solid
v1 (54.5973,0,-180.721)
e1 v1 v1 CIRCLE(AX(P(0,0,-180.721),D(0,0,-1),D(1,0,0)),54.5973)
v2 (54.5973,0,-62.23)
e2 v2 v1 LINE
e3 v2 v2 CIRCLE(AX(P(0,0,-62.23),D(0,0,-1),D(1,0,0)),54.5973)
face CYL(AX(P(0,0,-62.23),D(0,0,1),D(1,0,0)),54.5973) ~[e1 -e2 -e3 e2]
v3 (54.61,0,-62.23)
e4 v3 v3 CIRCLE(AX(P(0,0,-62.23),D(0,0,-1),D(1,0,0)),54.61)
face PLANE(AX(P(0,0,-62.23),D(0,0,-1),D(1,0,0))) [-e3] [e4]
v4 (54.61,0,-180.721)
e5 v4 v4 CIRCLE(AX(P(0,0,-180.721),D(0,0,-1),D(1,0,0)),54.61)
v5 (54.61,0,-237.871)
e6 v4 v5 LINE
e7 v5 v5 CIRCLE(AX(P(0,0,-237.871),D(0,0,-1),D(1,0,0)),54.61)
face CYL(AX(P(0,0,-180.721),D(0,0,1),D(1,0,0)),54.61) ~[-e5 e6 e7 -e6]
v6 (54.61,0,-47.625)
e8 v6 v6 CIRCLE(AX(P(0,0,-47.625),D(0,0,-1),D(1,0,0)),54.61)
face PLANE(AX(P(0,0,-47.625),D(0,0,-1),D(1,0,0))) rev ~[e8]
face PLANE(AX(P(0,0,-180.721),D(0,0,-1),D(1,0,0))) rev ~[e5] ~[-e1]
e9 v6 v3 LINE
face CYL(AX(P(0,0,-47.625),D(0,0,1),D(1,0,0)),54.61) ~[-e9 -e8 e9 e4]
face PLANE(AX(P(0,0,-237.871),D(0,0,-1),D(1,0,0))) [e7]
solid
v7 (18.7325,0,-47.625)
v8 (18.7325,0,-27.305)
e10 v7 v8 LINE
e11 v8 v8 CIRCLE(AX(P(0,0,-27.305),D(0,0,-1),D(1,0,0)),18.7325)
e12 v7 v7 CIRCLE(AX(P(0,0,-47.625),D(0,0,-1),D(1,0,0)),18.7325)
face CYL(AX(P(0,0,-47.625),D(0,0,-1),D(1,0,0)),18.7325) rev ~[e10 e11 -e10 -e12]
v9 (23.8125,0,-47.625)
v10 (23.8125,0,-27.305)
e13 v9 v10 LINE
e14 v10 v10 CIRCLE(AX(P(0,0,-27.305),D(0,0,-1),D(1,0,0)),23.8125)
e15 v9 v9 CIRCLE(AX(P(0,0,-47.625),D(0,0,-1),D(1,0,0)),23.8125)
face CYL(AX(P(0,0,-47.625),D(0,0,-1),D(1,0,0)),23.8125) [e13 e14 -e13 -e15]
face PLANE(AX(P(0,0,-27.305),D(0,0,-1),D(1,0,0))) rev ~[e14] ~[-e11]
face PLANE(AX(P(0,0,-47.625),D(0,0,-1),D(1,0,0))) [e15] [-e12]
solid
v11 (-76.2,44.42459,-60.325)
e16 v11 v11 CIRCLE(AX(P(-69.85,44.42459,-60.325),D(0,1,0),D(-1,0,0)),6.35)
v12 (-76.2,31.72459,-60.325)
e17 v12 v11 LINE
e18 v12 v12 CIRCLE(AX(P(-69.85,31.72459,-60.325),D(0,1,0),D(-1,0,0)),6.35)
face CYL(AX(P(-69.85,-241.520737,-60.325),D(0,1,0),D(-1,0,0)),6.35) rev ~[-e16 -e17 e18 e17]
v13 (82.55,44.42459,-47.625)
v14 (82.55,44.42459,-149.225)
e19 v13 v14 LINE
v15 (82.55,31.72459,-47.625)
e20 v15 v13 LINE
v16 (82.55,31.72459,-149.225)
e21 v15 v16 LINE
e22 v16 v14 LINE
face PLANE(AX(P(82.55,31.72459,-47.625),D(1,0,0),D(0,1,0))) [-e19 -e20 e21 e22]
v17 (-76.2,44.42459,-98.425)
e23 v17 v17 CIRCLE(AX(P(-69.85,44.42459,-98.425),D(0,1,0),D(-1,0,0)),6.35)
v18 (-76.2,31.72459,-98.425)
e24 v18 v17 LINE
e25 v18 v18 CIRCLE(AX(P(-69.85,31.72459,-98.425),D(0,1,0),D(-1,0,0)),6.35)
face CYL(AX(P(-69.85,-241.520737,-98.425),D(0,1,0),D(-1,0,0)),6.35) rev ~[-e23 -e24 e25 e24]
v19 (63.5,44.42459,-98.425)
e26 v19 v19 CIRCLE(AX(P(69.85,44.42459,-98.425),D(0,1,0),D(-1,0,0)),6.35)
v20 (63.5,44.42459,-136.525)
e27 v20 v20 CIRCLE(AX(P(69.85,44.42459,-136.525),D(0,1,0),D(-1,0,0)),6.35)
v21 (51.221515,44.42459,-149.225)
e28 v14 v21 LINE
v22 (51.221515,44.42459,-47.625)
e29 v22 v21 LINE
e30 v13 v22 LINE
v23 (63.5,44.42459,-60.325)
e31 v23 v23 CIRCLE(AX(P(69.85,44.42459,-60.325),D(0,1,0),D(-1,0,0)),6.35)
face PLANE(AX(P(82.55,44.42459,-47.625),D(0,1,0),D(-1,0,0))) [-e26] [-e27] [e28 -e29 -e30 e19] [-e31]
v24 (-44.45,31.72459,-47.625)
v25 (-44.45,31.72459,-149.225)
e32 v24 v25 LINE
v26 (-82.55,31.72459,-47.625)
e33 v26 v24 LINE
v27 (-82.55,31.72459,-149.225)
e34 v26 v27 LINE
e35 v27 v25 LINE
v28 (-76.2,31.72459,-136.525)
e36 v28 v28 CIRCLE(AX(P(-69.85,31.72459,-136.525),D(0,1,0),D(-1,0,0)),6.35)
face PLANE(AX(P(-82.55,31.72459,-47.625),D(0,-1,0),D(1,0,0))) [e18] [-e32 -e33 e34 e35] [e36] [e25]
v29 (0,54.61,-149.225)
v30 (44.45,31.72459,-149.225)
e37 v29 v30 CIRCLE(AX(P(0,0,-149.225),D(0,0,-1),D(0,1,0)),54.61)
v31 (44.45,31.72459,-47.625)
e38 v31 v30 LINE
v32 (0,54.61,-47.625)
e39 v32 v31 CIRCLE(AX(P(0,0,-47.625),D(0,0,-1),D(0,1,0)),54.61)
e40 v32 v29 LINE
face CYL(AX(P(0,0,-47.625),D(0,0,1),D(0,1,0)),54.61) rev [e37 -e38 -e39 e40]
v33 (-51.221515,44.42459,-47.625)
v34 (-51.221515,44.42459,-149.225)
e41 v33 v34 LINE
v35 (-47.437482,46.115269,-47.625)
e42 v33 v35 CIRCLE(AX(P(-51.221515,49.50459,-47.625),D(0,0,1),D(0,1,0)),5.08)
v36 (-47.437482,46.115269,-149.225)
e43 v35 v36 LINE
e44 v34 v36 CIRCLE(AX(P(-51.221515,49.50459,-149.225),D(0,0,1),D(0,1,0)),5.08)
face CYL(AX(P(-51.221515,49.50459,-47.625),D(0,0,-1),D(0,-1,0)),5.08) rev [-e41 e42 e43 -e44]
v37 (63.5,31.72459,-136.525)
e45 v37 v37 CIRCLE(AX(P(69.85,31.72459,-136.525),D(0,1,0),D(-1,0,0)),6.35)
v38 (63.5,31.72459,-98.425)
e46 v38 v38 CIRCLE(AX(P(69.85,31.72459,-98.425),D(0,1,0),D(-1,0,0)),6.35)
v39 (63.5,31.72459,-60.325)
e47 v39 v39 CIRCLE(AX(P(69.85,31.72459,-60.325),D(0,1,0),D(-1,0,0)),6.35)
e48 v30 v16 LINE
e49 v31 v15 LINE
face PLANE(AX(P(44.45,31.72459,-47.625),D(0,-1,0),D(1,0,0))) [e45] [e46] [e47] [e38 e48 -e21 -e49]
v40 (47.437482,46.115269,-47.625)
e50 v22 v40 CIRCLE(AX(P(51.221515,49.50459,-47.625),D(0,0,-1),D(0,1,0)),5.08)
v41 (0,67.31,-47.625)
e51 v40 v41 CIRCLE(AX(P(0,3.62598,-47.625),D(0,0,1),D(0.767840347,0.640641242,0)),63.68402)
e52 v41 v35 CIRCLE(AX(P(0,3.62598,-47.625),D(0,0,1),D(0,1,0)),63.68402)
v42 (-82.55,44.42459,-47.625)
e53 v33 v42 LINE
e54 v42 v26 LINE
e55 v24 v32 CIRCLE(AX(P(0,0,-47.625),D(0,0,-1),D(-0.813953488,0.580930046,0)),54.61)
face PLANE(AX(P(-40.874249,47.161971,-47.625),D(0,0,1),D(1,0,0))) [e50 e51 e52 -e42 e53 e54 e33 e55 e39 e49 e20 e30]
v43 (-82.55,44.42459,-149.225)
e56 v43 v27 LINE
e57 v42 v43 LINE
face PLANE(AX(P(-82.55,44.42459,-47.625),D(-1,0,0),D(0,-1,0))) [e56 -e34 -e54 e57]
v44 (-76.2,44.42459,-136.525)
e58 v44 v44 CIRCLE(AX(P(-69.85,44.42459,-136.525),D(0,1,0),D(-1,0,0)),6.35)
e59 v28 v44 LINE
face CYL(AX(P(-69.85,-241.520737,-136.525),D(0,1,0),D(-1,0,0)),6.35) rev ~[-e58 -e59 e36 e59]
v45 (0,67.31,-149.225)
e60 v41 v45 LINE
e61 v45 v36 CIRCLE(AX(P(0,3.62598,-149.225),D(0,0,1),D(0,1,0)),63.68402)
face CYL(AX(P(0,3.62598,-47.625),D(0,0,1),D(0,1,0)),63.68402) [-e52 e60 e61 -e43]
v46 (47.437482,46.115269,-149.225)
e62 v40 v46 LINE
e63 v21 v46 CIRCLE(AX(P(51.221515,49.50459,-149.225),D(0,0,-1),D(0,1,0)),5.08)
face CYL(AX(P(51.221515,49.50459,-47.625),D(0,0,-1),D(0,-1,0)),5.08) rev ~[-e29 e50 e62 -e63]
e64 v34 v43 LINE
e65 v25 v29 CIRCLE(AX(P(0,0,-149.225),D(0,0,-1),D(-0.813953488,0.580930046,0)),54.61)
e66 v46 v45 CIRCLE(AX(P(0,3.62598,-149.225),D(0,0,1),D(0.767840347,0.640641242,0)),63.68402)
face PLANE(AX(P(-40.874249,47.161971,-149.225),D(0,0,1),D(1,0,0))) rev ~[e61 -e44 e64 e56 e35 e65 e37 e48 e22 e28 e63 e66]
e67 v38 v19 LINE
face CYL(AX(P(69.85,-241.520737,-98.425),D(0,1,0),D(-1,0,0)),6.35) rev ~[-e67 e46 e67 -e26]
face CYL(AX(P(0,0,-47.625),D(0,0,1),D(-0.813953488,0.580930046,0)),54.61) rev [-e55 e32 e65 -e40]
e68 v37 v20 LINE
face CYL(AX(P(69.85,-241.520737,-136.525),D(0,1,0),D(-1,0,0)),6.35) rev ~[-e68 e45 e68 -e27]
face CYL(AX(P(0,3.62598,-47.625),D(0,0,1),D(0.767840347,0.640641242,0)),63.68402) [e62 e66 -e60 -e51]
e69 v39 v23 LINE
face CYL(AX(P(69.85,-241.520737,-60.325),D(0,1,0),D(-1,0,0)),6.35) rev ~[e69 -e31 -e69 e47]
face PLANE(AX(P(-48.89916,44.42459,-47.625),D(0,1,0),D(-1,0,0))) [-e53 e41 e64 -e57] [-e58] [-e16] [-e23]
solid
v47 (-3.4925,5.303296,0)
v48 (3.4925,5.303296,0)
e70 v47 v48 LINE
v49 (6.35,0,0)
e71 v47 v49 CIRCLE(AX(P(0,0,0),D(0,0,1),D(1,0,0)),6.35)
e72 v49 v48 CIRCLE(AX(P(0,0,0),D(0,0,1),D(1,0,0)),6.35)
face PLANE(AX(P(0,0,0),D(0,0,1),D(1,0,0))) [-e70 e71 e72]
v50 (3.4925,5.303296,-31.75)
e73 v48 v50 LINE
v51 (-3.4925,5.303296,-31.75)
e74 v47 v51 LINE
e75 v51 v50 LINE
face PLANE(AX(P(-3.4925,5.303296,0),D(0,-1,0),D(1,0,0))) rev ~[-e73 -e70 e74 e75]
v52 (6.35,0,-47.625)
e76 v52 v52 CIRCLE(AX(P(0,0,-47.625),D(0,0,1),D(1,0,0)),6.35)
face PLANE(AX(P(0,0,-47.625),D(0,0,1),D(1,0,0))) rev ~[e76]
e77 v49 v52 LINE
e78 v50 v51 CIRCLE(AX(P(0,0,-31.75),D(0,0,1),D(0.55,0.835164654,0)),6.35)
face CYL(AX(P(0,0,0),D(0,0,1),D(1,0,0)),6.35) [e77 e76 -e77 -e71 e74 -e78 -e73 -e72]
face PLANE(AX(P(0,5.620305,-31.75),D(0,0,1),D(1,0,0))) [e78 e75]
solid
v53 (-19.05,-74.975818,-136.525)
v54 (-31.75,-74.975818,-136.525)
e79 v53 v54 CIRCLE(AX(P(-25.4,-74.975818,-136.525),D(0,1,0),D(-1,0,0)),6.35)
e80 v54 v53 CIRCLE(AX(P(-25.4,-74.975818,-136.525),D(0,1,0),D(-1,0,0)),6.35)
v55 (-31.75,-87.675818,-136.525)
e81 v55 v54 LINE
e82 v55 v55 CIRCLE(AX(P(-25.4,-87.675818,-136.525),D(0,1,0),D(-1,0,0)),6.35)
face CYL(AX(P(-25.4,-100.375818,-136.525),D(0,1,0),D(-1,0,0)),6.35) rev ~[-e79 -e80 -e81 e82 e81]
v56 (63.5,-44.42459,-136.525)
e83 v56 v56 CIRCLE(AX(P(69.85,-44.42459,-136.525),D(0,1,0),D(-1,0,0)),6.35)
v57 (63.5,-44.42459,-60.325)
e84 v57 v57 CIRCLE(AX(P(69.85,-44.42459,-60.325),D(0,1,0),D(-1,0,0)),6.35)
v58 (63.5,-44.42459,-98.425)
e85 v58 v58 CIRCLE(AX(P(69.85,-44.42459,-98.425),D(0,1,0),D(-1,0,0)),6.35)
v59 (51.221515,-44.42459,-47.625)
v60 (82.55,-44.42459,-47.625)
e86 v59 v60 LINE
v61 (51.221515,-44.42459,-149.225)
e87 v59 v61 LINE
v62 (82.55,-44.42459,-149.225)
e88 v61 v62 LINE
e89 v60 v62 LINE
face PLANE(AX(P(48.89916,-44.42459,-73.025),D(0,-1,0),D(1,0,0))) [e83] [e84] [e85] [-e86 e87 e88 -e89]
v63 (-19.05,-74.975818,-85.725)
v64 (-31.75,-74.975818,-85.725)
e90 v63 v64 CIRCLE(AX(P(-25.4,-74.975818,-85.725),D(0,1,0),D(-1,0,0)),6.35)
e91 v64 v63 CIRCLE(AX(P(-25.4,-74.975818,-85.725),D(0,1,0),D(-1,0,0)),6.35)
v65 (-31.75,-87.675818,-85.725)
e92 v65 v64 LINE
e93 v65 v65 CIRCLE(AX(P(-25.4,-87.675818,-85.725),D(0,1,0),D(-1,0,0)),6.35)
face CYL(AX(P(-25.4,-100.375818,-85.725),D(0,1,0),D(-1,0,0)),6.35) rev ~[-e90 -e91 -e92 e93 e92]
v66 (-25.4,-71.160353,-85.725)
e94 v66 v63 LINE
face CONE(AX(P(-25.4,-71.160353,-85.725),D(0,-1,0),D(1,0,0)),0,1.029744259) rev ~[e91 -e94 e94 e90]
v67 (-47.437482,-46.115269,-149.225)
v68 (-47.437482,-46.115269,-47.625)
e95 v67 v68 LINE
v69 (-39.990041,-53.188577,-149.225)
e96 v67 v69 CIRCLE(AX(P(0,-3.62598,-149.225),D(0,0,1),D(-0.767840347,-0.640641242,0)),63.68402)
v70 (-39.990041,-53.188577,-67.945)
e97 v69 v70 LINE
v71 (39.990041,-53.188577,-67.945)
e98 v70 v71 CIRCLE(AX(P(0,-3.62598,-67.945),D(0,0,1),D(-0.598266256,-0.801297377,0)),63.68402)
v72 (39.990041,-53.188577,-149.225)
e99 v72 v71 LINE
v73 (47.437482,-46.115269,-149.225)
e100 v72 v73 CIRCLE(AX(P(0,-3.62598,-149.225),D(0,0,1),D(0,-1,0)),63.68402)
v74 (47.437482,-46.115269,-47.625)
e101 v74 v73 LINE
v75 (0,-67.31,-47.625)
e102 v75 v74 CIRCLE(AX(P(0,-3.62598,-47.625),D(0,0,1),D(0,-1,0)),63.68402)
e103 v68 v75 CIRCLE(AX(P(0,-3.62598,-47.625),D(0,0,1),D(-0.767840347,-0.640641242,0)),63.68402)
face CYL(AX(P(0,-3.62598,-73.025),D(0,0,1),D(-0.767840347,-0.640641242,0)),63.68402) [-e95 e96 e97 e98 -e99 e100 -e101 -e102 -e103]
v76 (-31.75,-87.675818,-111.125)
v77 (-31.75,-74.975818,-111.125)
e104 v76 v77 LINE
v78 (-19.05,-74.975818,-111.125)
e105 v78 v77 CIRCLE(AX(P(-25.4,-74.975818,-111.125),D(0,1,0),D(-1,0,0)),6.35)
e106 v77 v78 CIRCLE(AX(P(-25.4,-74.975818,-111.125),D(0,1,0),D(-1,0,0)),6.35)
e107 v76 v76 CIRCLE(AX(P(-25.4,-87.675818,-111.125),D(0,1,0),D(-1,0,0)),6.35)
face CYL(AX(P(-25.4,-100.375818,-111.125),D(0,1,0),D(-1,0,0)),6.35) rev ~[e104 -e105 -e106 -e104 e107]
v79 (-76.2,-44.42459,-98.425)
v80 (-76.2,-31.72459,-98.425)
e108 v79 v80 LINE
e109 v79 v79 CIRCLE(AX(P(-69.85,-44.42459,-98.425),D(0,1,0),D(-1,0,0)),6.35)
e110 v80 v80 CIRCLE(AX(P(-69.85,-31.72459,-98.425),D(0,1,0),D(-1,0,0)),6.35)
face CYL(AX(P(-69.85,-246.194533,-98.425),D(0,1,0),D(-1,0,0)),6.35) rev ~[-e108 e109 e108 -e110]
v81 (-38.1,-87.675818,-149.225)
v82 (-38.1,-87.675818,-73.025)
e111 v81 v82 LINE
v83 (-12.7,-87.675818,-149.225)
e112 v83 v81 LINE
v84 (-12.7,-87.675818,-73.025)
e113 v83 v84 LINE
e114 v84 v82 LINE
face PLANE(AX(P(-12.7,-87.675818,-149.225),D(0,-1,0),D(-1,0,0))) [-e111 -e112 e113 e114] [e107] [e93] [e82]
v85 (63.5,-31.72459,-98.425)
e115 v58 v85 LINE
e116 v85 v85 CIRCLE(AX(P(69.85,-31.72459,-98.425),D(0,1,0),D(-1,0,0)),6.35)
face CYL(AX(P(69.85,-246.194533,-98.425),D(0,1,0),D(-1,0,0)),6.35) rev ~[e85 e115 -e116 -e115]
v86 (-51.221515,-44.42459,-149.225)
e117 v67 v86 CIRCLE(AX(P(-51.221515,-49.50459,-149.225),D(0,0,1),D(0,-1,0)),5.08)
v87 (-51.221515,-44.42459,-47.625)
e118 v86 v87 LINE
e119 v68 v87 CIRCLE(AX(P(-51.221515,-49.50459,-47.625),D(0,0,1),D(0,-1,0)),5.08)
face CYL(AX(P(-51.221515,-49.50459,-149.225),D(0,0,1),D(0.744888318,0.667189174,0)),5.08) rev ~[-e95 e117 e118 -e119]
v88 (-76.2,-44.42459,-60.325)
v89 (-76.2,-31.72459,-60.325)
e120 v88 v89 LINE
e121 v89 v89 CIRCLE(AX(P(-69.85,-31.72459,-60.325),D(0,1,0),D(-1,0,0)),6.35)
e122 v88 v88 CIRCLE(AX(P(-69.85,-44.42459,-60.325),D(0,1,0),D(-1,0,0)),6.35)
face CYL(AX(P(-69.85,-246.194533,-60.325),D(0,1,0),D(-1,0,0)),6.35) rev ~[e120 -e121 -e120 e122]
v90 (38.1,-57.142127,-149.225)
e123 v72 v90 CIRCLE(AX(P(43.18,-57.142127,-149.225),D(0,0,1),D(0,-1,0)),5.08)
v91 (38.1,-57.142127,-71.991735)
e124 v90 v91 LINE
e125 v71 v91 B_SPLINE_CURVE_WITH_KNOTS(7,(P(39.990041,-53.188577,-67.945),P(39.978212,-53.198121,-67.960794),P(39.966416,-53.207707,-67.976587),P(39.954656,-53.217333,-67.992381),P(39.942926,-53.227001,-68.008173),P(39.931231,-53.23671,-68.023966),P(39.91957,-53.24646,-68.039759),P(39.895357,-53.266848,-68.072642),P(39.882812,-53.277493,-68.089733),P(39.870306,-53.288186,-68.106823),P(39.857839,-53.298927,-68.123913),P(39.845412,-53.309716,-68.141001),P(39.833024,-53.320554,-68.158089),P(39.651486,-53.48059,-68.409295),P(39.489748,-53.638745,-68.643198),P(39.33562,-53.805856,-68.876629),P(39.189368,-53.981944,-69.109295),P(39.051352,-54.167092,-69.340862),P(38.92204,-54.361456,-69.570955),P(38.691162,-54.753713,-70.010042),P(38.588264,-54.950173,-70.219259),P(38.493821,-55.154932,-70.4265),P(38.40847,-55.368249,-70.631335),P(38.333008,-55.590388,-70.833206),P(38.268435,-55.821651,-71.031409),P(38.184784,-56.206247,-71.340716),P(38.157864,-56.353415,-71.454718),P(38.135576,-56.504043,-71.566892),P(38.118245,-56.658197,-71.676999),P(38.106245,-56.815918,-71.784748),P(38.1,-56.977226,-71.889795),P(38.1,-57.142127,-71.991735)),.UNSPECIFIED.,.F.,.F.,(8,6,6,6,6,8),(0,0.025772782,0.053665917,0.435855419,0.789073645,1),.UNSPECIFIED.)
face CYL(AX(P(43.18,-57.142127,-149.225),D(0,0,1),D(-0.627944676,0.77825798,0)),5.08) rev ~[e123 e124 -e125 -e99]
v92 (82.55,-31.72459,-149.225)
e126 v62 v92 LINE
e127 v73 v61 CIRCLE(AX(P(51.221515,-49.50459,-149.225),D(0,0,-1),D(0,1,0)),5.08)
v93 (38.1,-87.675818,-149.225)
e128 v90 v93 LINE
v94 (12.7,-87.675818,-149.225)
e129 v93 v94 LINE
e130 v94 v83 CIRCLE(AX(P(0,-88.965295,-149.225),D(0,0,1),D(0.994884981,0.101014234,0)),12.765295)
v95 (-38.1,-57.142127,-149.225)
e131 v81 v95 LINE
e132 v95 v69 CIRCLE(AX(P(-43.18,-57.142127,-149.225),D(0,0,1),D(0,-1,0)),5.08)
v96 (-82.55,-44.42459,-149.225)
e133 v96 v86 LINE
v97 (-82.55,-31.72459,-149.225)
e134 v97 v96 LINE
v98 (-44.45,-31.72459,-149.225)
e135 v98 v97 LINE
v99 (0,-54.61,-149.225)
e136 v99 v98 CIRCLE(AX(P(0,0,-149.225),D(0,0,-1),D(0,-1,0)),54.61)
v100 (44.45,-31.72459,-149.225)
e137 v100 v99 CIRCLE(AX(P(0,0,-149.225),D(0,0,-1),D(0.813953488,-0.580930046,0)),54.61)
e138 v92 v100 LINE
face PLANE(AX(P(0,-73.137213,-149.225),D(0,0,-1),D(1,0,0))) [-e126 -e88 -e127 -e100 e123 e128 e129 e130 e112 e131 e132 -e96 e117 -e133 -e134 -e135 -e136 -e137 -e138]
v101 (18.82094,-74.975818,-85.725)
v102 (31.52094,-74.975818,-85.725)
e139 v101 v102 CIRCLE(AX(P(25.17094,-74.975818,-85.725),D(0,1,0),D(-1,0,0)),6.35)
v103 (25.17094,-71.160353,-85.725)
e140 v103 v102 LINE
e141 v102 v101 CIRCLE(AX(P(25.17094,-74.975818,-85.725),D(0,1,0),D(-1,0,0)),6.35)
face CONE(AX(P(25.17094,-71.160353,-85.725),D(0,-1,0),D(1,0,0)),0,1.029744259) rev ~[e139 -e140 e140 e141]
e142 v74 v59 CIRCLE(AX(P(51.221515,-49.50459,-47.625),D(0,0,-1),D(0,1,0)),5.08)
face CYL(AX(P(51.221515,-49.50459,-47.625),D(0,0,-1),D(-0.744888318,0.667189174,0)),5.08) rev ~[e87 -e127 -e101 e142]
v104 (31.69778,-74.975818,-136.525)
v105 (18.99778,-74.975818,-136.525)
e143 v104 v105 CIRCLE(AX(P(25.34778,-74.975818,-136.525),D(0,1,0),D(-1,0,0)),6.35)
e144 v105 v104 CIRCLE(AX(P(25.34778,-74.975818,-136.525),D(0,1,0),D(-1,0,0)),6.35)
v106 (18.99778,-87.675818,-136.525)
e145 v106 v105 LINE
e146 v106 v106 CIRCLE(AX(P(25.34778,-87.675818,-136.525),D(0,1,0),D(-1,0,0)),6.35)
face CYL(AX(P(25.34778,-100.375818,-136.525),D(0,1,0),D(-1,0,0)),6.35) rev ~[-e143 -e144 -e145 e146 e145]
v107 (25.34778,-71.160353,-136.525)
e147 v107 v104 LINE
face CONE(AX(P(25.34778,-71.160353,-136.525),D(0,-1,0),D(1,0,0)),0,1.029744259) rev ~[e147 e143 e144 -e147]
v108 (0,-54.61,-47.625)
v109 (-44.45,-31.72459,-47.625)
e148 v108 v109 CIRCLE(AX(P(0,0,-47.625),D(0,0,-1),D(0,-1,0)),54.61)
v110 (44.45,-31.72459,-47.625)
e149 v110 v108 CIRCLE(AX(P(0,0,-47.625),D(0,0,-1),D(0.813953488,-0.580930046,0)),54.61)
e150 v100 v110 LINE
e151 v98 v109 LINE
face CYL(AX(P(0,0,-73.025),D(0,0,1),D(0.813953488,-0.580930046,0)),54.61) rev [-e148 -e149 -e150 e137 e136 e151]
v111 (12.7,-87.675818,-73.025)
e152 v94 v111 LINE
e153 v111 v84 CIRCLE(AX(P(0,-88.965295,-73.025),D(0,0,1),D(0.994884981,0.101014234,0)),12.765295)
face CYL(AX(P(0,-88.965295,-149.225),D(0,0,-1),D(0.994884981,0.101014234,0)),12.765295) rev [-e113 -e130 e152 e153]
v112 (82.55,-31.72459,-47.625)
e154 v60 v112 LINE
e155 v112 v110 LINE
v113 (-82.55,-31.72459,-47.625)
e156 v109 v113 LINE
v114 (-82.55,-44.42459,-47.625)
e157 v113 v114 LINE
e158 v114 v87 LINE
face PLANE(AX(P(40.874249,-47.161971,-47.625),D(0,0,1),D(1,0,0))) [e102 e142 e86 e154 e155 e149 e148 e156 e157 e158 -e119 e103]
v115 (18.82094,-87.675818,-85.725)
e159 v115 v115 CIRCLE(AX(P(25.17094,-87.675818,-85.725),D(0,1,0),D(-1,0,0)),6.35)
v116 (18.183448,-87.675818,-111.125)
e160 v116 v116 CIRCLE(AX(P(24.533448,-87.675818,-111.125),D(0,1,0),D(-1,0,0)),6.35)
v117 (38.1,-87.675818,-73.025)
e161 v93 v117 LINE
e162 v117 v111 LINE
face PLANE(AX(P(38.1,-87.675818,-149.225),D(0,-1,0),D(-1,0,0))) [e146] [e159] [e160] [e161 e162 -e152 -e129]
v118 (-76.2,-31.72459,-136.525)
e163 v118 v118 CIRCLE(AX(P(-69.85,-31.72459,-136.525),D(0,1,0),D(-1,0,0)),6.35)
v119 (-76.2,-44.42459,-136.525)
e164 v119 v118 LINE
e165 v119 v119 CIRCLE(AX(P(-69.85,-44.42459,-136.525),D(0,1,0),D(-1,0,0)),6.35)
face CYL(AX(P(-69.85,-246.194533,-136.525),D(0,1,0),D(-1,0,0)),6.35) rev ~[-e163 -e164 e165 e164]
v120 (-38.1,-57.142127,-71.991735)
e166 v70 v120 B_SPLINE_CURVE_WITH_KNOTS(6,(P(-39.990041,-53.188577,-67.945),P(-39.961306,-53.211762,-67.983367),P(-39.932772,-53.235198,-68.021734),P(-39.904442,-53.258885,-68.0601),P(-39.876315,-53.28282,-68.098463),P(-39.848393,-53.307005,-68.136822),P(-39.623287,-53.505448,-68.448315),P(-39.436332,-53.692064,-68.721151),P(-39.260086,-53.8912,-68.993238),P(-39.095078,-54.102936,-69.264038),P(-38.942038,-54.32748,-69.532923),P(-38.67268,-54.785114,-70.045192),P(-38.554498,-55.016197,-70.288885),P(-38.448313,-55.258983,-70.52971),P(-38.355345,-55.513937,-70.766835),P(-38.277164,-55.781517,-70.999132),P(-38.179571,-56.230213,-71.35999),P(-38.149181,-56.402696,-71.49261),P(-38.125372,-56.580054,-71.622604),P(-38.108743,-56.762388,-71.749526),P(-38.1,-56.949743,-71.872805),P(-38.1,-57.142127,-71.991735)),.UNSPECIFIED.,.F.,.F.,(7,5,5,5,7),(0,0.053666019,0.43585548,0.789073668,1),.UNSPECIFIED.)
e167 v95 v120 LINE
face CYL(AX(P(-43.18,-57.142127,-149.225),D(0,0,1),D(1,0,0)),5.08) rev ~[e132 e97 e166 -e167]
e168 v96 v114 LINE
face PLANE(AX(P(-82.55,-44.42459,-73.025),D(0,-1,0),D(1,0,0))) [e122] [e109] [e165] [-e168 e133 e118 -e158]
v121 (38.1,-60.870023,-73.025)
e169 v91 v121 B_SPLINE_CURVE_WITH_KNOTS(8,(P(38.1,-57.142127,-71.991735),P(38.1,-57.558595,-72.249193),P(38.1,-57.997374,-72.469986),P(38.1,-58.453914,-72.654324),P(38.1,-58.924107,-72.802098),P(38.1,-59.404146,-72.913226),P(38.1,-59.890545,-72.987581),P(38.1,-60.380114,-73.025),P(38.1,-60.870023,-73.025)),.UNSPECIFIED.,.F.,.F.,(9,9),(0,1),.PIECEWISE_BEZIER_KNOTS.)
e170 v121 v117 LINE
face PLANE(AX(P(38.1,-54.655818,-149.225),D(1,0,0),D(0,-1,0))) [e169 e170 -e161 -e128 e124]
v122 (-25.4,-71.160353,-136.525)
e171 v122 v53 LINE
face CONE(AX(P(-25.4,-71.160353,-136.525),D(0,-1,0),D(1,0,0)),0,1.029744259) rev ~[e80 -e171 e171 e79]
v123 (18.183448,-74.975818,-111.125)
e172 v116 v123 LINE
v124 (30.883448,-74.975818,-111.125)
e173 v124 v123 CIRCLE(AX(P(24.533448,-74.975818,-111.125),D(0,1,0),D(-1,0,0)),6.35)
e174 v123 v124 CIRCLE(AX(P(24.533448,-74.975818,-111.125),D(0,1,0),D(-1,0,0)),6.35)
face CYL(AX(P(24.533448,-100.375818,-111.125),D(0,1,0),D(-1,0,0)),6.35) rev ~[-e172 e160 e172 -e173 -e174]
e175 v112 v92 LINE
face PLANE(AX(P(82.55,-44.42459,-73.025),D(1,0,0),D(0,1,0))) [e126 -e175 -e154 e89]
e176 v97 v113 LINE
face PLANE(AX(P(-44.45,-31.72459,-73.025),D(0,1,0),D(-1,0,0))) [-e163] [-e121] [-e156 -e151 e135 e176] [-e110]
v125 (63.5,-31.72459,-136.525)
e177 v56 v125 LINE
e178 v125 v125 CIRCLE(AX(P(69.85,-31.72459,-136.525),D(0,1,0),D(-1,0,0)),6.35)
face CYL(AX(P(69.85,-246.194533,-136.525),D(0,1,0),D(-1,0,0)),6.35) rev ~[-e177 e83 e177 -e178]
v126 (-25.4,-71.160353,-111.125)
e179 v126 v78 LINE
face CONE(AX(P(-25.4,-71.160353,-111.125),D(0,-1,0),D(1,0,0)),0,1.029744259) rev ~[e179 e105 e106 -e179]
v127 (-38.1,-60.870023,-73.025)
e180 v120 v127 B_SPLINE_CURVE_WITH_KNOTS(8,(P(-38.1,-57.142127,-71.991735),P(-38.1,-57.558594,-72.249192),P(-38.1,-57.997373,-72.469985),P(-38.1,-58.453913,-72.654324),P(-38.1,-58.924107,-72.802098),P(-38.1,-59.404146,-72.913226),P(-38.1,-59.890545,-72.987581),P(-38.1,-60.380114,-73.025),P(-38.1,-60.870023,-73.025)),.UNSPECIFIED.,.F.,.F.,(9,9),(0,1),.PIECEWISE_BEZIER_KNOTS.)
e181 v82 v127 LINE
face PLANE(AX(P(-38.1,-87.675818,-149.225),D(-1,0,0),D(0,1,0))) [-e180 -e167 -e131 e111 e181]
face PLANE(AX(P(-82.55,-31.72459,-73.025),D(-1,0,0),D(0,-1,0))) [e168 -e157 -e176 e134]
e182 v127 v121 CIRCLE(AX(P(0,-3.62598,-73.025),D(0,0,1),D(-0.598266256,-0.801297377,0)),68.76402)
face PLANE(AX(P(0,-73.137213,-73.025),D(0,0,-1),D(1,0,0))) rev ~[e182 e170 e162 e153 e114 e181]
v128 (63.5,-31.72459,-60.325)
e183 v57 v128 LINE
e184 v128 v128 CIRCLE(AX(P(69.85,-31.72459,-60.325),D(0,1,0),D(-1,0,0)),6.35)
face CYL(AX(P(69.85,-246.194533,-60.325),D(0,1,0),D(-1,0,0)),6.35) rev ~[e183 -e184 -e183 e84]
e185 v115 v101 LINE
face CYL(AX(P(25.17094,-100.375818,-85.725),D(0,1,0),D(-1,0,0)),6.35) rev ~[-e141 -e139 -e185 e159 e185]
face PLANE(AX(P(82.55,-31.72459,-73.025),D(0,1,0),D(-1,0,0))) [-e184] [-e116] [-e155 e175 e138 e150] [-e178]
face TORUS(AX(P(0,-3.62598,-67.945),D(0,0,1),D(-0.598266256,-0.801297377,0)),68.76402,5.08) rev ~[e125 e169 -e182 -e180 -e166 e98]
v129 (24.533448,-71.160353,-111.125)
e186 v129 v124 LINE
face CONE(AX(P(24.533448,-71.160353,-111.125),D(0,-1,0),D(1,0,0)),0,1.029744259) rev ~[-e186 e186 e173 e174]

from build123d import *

# Parameters (mm, degrees)
F0_R      = 6.35
F1_DEPTH  = 47.625
F3_DEPTH  = 31.75
F4_R      = 23.8125
F4_R_2    = 18.7325
F5_DEPTH  = 20.32
F6_R      = 54.61
F6_R_2    = 6.35
F7_DEPTH  = 14.605
F8_R      = 54.5973
F9_DEPTH  = 118.491
F10_R     = 54.61
F10_R_2   = 54.5973
F11_DEPTH = 57.15
F13_DEPTH = 101.6
F15_DEPTH = 25.4
F16_DEPTH = 76.2
F18_DEPTH = 76.2
F20_D     = 12.7
F20_DEPTH = 12.7
F20_TIP   = 3.8154649308
F22_D     = 12.7
F22_2_D   = 12.7
F23_R     = 5.08
F23_2_R   = 5.08


with BuildPart() as f1:
    # F0 (on Top) → F1 (new body)
    with BuildSketch(Plane.XY):
        Circle(F0_R)
    extrude(amount=-F1_DEPTH)

    # F2 (on face) → F3 (cut)
    with BuildSketch(Plane.XY):
        with BuildLine():
            Line((-3.4925, 5.3032955556), (3.4925, 5.3032955556))
            ThreePointArc((3.4925, 5.3032955556), (0, 6.35), (-3.4925, 5.3032955556))
        make_face()
    extrude(amount=-F3_DEPTH, mode=Mode.SUBTRACT)


with BuildPart() as f5:
    # F4 (on face) → F5 (new body)
    with BuildSketch(Plane(origin=(0, 0, -47.625), x_dir=(1, 0, 0), z_dir=(0, 0, -1))):
        Circle(F4_R)
        Circle(F4_R_2, mode=Mode.SUBTRACT)
    extrude(amount=-F5_DEPTH)


with BuildPart() as f7:
    # F6 (on face) → F7 (new body)
    with BuildSketch(Plane(origin=(0, 0, -47.625), x_dir=(1, 0, 0), z_dir=(0, 0, -1))):
        Circle(F6_R)
        Circle(F6_R_2, mode=Mode.SUBTRACT)
        Circle(F6_R_2)
    extrude(amount=F7_DEPTH)

    # F8 (on face) → F9 (join)
    with BuildSketch(Plane(origin=(0, 0, -62.23), x_dir=(1, 0, 0), z_dir=(0, 0, -1))):
        Circle(F8_R)
    extrude(amount=F9_DEPTH)

    # F10 (on face) → F11 (join)
    with BuildSketch(Plane(origin=(0, 0, -180.721), x_dir=(1, 0, 0), z_dir=(0, 0, -1))):
        Circle(F10_R)
        Circle(F10_R_2, mode=Mode.SUBTRACT)
        Circle(F10_R_2)
    extrude(amount=F11_DEPTH)


with BuildPart() as f13:
    # F12 (on face) → F13 (new body)
    with BuildSketch(Plane.XY.offset(-47.625)):
        with BuildLine():
            Line((-82.55, 31.7245898319), (-44.45, 31.7245898319))
            ThreePointArc((-44.45, 31.7245898319), (-24.9977223891, 48.5527133676), (0, 54.61))
            Line((0, 54.61), (0, 67.31))
            ThreePointArc((0, 67.31), (-26.9947671741, 61.30558596), (-48.8991597124, 44.4245898319))
            Line((-48.8991597124, 44.4245898319), (-82.55, 44.4245898319))
            Line((-82.55, 44.4245898319), (-82.55, 31.7245898319))
        make_face()
        with BuildLine():
            ThreePointArc((0, 54.61), (24.9977223891, 48.5527133676), (44.45, 31.7245898319))
            Line((44.45, 31.7245898319), (82.55, 31.7245898319))
            Line((82.55, 31.7245898319), (82.55, 44.4245898319))
            Line((82.55, 44.4245898319), (48.8991597124, 44.4245898319))
            ThreePointArc((48.8991597124, 44.4245898319), (26.9947671741, 61.30558596), (0, 67.31))
            Line((0, 67.31), (0, 54.61))
        make_face()
    extrude(amount=-F13_DEPTH)

    # F22 (through all)
    with Locations(Plane.XZ.offset(44.4245898319)):
        with Locations((-69.85, -60.325), (-69.85, -98.425), (-69.85, -136.525), (69.85, -60.325), (69.85, -98.425), (69.85, -136.525)):
            Hole(F22_D / 2)

    # F23#2
    f23_2_edges = [f13.edges().sort_by_distance(p)[0] for p in [
        (-48.89916, 44.42459, -98.425),
        (48.89916, 44.42459, -98.425),
    ]]
    fillet(f23_2_edges, radius=F23_2_R)


with BuildPart() as f15:
    # F14 (on face) → F15 (new body)
    with BuildSketch(Plane.XY.offset(-47.625)):
        with BuildLine():
            Line((82.55, -31.7245898319), (44.45, -31.7245898319))
            ThreePointArc((44.45, -31.7245898319), (24.9977223891, -48.5527133676), (0, -54.61))
            Line((0, -54.61), (0, -67.31))
            ThreePointArc((0, -67.31), (26.9947671741, -61.30558596), (48.8991597124, -44.4245898319))
            Line((48.8991597124, -44.4245898319), (82.55, -44.4245898319))
            Line((82.55, -44.4245898319), (82.55, -31.7245898319))
        make_face()
        with BuildLine():
            ThreePointArc((0, -54.61), (-24.9977223891, -48.5527133676), (-44.45, -31.7245898319))
            Line((-44.45, -31.7245898319), (-82.55, -31.7245898319))
            Line((-82.55, -31.7245898319), (-82.55, -44.4245898319))
            Line((-82.55, -44.4245898319), (-48.8991597124, -44.4245898319))
            ThreePointArc((-48.8991597124, -44.4245898319), (-26.9947671741, -61.30558596), (0, -67.31))
            Line((0, -67.31), (0, -54.61))
        make_face()
    extrude(amount=-F15_DEPTH)

    # F16 (add): faces of the model
    f16_faces = [f15.faces().sort_by_distance(p)[0] for p in [
        (80.8610852178, -38.0745898319, -73.025),
        (80.8610852178, -38.0745898319, -73.025),
    ]]
    extrude(f16_faces, amount=F16_DEPTH)

    # F17 (on face) → F18 (join)
    with BuildSketch(Plane(origin=(0, 0, -149.225), x_dir=(1, 0, 0), z_dir=(0, 0, -1))):
        with BuildLine():
            Line((-38.1, 87.6758182624), (-38.1, 54.6558182624))
            ThreePointArc((-38.1, 54.6558182624), (0, 67.31), (38.1, 54.6558182624))
            Line((38.1, 54.6558182624), (38.1, 87.6758182624))
            Line((38.1, 87.6758182624), (12.7, 87.6758182624))
            ThreePointArc((12.7, 87.6758182624), (0, 76.2), (-12.7, 87.6758182624))
            Line((-12.7, 87.6758182624), (-38.1, 87.6758182624))
        make_face()
    extrude(amount=-F18_DEPTH)

    # F20
    with Locations(Plane.XZ.offset(87.6758182624)):
        with Locations((-25.4, -85.725), (25.1709398942, -85.725), (-25.4, -111.125), (24.5334483168, -111.125), (-25.4, -136.525), (25.347779546, -136.525)):
            Hole(F20_D / 2, depth=F20_DEPTH)
            with Locations((0, 0, -(F20_DEPTH + F20_TIP / 2))):  # 118° drill point
                Cone(0, F20_D / 2, F20_TIP, mode=Mode.SUBTRACT)

    # F22#2 (through all)
    with Locations(Plane.XZ.offset(44.4245898319)):
        with Locations((-69.85, -60.325), (-69.85, -98.425), (-69.85, -136.525), (69.85, -60.325), (69.85, -98.425), (69.85, -136.525)):
            Hole(F22_2_D / 2)

    # F23
    f23_edges = [f15.edges().sort_by_distance(p)[0] for p in [
        (-38.1, -54.655818, -111.125),
        (0, -67.31, -73.025),
        (38.1, -54.655818, -111.125),
        (48.89916, -44.42459, -98.425),
        (-48.89916, -44.42459, -98.425),
    ]]
    fillet(f23_edges, radius=F23_R)


solid = Compound([f1.part, f5.part, f7.part, f13.part, f15.part])
